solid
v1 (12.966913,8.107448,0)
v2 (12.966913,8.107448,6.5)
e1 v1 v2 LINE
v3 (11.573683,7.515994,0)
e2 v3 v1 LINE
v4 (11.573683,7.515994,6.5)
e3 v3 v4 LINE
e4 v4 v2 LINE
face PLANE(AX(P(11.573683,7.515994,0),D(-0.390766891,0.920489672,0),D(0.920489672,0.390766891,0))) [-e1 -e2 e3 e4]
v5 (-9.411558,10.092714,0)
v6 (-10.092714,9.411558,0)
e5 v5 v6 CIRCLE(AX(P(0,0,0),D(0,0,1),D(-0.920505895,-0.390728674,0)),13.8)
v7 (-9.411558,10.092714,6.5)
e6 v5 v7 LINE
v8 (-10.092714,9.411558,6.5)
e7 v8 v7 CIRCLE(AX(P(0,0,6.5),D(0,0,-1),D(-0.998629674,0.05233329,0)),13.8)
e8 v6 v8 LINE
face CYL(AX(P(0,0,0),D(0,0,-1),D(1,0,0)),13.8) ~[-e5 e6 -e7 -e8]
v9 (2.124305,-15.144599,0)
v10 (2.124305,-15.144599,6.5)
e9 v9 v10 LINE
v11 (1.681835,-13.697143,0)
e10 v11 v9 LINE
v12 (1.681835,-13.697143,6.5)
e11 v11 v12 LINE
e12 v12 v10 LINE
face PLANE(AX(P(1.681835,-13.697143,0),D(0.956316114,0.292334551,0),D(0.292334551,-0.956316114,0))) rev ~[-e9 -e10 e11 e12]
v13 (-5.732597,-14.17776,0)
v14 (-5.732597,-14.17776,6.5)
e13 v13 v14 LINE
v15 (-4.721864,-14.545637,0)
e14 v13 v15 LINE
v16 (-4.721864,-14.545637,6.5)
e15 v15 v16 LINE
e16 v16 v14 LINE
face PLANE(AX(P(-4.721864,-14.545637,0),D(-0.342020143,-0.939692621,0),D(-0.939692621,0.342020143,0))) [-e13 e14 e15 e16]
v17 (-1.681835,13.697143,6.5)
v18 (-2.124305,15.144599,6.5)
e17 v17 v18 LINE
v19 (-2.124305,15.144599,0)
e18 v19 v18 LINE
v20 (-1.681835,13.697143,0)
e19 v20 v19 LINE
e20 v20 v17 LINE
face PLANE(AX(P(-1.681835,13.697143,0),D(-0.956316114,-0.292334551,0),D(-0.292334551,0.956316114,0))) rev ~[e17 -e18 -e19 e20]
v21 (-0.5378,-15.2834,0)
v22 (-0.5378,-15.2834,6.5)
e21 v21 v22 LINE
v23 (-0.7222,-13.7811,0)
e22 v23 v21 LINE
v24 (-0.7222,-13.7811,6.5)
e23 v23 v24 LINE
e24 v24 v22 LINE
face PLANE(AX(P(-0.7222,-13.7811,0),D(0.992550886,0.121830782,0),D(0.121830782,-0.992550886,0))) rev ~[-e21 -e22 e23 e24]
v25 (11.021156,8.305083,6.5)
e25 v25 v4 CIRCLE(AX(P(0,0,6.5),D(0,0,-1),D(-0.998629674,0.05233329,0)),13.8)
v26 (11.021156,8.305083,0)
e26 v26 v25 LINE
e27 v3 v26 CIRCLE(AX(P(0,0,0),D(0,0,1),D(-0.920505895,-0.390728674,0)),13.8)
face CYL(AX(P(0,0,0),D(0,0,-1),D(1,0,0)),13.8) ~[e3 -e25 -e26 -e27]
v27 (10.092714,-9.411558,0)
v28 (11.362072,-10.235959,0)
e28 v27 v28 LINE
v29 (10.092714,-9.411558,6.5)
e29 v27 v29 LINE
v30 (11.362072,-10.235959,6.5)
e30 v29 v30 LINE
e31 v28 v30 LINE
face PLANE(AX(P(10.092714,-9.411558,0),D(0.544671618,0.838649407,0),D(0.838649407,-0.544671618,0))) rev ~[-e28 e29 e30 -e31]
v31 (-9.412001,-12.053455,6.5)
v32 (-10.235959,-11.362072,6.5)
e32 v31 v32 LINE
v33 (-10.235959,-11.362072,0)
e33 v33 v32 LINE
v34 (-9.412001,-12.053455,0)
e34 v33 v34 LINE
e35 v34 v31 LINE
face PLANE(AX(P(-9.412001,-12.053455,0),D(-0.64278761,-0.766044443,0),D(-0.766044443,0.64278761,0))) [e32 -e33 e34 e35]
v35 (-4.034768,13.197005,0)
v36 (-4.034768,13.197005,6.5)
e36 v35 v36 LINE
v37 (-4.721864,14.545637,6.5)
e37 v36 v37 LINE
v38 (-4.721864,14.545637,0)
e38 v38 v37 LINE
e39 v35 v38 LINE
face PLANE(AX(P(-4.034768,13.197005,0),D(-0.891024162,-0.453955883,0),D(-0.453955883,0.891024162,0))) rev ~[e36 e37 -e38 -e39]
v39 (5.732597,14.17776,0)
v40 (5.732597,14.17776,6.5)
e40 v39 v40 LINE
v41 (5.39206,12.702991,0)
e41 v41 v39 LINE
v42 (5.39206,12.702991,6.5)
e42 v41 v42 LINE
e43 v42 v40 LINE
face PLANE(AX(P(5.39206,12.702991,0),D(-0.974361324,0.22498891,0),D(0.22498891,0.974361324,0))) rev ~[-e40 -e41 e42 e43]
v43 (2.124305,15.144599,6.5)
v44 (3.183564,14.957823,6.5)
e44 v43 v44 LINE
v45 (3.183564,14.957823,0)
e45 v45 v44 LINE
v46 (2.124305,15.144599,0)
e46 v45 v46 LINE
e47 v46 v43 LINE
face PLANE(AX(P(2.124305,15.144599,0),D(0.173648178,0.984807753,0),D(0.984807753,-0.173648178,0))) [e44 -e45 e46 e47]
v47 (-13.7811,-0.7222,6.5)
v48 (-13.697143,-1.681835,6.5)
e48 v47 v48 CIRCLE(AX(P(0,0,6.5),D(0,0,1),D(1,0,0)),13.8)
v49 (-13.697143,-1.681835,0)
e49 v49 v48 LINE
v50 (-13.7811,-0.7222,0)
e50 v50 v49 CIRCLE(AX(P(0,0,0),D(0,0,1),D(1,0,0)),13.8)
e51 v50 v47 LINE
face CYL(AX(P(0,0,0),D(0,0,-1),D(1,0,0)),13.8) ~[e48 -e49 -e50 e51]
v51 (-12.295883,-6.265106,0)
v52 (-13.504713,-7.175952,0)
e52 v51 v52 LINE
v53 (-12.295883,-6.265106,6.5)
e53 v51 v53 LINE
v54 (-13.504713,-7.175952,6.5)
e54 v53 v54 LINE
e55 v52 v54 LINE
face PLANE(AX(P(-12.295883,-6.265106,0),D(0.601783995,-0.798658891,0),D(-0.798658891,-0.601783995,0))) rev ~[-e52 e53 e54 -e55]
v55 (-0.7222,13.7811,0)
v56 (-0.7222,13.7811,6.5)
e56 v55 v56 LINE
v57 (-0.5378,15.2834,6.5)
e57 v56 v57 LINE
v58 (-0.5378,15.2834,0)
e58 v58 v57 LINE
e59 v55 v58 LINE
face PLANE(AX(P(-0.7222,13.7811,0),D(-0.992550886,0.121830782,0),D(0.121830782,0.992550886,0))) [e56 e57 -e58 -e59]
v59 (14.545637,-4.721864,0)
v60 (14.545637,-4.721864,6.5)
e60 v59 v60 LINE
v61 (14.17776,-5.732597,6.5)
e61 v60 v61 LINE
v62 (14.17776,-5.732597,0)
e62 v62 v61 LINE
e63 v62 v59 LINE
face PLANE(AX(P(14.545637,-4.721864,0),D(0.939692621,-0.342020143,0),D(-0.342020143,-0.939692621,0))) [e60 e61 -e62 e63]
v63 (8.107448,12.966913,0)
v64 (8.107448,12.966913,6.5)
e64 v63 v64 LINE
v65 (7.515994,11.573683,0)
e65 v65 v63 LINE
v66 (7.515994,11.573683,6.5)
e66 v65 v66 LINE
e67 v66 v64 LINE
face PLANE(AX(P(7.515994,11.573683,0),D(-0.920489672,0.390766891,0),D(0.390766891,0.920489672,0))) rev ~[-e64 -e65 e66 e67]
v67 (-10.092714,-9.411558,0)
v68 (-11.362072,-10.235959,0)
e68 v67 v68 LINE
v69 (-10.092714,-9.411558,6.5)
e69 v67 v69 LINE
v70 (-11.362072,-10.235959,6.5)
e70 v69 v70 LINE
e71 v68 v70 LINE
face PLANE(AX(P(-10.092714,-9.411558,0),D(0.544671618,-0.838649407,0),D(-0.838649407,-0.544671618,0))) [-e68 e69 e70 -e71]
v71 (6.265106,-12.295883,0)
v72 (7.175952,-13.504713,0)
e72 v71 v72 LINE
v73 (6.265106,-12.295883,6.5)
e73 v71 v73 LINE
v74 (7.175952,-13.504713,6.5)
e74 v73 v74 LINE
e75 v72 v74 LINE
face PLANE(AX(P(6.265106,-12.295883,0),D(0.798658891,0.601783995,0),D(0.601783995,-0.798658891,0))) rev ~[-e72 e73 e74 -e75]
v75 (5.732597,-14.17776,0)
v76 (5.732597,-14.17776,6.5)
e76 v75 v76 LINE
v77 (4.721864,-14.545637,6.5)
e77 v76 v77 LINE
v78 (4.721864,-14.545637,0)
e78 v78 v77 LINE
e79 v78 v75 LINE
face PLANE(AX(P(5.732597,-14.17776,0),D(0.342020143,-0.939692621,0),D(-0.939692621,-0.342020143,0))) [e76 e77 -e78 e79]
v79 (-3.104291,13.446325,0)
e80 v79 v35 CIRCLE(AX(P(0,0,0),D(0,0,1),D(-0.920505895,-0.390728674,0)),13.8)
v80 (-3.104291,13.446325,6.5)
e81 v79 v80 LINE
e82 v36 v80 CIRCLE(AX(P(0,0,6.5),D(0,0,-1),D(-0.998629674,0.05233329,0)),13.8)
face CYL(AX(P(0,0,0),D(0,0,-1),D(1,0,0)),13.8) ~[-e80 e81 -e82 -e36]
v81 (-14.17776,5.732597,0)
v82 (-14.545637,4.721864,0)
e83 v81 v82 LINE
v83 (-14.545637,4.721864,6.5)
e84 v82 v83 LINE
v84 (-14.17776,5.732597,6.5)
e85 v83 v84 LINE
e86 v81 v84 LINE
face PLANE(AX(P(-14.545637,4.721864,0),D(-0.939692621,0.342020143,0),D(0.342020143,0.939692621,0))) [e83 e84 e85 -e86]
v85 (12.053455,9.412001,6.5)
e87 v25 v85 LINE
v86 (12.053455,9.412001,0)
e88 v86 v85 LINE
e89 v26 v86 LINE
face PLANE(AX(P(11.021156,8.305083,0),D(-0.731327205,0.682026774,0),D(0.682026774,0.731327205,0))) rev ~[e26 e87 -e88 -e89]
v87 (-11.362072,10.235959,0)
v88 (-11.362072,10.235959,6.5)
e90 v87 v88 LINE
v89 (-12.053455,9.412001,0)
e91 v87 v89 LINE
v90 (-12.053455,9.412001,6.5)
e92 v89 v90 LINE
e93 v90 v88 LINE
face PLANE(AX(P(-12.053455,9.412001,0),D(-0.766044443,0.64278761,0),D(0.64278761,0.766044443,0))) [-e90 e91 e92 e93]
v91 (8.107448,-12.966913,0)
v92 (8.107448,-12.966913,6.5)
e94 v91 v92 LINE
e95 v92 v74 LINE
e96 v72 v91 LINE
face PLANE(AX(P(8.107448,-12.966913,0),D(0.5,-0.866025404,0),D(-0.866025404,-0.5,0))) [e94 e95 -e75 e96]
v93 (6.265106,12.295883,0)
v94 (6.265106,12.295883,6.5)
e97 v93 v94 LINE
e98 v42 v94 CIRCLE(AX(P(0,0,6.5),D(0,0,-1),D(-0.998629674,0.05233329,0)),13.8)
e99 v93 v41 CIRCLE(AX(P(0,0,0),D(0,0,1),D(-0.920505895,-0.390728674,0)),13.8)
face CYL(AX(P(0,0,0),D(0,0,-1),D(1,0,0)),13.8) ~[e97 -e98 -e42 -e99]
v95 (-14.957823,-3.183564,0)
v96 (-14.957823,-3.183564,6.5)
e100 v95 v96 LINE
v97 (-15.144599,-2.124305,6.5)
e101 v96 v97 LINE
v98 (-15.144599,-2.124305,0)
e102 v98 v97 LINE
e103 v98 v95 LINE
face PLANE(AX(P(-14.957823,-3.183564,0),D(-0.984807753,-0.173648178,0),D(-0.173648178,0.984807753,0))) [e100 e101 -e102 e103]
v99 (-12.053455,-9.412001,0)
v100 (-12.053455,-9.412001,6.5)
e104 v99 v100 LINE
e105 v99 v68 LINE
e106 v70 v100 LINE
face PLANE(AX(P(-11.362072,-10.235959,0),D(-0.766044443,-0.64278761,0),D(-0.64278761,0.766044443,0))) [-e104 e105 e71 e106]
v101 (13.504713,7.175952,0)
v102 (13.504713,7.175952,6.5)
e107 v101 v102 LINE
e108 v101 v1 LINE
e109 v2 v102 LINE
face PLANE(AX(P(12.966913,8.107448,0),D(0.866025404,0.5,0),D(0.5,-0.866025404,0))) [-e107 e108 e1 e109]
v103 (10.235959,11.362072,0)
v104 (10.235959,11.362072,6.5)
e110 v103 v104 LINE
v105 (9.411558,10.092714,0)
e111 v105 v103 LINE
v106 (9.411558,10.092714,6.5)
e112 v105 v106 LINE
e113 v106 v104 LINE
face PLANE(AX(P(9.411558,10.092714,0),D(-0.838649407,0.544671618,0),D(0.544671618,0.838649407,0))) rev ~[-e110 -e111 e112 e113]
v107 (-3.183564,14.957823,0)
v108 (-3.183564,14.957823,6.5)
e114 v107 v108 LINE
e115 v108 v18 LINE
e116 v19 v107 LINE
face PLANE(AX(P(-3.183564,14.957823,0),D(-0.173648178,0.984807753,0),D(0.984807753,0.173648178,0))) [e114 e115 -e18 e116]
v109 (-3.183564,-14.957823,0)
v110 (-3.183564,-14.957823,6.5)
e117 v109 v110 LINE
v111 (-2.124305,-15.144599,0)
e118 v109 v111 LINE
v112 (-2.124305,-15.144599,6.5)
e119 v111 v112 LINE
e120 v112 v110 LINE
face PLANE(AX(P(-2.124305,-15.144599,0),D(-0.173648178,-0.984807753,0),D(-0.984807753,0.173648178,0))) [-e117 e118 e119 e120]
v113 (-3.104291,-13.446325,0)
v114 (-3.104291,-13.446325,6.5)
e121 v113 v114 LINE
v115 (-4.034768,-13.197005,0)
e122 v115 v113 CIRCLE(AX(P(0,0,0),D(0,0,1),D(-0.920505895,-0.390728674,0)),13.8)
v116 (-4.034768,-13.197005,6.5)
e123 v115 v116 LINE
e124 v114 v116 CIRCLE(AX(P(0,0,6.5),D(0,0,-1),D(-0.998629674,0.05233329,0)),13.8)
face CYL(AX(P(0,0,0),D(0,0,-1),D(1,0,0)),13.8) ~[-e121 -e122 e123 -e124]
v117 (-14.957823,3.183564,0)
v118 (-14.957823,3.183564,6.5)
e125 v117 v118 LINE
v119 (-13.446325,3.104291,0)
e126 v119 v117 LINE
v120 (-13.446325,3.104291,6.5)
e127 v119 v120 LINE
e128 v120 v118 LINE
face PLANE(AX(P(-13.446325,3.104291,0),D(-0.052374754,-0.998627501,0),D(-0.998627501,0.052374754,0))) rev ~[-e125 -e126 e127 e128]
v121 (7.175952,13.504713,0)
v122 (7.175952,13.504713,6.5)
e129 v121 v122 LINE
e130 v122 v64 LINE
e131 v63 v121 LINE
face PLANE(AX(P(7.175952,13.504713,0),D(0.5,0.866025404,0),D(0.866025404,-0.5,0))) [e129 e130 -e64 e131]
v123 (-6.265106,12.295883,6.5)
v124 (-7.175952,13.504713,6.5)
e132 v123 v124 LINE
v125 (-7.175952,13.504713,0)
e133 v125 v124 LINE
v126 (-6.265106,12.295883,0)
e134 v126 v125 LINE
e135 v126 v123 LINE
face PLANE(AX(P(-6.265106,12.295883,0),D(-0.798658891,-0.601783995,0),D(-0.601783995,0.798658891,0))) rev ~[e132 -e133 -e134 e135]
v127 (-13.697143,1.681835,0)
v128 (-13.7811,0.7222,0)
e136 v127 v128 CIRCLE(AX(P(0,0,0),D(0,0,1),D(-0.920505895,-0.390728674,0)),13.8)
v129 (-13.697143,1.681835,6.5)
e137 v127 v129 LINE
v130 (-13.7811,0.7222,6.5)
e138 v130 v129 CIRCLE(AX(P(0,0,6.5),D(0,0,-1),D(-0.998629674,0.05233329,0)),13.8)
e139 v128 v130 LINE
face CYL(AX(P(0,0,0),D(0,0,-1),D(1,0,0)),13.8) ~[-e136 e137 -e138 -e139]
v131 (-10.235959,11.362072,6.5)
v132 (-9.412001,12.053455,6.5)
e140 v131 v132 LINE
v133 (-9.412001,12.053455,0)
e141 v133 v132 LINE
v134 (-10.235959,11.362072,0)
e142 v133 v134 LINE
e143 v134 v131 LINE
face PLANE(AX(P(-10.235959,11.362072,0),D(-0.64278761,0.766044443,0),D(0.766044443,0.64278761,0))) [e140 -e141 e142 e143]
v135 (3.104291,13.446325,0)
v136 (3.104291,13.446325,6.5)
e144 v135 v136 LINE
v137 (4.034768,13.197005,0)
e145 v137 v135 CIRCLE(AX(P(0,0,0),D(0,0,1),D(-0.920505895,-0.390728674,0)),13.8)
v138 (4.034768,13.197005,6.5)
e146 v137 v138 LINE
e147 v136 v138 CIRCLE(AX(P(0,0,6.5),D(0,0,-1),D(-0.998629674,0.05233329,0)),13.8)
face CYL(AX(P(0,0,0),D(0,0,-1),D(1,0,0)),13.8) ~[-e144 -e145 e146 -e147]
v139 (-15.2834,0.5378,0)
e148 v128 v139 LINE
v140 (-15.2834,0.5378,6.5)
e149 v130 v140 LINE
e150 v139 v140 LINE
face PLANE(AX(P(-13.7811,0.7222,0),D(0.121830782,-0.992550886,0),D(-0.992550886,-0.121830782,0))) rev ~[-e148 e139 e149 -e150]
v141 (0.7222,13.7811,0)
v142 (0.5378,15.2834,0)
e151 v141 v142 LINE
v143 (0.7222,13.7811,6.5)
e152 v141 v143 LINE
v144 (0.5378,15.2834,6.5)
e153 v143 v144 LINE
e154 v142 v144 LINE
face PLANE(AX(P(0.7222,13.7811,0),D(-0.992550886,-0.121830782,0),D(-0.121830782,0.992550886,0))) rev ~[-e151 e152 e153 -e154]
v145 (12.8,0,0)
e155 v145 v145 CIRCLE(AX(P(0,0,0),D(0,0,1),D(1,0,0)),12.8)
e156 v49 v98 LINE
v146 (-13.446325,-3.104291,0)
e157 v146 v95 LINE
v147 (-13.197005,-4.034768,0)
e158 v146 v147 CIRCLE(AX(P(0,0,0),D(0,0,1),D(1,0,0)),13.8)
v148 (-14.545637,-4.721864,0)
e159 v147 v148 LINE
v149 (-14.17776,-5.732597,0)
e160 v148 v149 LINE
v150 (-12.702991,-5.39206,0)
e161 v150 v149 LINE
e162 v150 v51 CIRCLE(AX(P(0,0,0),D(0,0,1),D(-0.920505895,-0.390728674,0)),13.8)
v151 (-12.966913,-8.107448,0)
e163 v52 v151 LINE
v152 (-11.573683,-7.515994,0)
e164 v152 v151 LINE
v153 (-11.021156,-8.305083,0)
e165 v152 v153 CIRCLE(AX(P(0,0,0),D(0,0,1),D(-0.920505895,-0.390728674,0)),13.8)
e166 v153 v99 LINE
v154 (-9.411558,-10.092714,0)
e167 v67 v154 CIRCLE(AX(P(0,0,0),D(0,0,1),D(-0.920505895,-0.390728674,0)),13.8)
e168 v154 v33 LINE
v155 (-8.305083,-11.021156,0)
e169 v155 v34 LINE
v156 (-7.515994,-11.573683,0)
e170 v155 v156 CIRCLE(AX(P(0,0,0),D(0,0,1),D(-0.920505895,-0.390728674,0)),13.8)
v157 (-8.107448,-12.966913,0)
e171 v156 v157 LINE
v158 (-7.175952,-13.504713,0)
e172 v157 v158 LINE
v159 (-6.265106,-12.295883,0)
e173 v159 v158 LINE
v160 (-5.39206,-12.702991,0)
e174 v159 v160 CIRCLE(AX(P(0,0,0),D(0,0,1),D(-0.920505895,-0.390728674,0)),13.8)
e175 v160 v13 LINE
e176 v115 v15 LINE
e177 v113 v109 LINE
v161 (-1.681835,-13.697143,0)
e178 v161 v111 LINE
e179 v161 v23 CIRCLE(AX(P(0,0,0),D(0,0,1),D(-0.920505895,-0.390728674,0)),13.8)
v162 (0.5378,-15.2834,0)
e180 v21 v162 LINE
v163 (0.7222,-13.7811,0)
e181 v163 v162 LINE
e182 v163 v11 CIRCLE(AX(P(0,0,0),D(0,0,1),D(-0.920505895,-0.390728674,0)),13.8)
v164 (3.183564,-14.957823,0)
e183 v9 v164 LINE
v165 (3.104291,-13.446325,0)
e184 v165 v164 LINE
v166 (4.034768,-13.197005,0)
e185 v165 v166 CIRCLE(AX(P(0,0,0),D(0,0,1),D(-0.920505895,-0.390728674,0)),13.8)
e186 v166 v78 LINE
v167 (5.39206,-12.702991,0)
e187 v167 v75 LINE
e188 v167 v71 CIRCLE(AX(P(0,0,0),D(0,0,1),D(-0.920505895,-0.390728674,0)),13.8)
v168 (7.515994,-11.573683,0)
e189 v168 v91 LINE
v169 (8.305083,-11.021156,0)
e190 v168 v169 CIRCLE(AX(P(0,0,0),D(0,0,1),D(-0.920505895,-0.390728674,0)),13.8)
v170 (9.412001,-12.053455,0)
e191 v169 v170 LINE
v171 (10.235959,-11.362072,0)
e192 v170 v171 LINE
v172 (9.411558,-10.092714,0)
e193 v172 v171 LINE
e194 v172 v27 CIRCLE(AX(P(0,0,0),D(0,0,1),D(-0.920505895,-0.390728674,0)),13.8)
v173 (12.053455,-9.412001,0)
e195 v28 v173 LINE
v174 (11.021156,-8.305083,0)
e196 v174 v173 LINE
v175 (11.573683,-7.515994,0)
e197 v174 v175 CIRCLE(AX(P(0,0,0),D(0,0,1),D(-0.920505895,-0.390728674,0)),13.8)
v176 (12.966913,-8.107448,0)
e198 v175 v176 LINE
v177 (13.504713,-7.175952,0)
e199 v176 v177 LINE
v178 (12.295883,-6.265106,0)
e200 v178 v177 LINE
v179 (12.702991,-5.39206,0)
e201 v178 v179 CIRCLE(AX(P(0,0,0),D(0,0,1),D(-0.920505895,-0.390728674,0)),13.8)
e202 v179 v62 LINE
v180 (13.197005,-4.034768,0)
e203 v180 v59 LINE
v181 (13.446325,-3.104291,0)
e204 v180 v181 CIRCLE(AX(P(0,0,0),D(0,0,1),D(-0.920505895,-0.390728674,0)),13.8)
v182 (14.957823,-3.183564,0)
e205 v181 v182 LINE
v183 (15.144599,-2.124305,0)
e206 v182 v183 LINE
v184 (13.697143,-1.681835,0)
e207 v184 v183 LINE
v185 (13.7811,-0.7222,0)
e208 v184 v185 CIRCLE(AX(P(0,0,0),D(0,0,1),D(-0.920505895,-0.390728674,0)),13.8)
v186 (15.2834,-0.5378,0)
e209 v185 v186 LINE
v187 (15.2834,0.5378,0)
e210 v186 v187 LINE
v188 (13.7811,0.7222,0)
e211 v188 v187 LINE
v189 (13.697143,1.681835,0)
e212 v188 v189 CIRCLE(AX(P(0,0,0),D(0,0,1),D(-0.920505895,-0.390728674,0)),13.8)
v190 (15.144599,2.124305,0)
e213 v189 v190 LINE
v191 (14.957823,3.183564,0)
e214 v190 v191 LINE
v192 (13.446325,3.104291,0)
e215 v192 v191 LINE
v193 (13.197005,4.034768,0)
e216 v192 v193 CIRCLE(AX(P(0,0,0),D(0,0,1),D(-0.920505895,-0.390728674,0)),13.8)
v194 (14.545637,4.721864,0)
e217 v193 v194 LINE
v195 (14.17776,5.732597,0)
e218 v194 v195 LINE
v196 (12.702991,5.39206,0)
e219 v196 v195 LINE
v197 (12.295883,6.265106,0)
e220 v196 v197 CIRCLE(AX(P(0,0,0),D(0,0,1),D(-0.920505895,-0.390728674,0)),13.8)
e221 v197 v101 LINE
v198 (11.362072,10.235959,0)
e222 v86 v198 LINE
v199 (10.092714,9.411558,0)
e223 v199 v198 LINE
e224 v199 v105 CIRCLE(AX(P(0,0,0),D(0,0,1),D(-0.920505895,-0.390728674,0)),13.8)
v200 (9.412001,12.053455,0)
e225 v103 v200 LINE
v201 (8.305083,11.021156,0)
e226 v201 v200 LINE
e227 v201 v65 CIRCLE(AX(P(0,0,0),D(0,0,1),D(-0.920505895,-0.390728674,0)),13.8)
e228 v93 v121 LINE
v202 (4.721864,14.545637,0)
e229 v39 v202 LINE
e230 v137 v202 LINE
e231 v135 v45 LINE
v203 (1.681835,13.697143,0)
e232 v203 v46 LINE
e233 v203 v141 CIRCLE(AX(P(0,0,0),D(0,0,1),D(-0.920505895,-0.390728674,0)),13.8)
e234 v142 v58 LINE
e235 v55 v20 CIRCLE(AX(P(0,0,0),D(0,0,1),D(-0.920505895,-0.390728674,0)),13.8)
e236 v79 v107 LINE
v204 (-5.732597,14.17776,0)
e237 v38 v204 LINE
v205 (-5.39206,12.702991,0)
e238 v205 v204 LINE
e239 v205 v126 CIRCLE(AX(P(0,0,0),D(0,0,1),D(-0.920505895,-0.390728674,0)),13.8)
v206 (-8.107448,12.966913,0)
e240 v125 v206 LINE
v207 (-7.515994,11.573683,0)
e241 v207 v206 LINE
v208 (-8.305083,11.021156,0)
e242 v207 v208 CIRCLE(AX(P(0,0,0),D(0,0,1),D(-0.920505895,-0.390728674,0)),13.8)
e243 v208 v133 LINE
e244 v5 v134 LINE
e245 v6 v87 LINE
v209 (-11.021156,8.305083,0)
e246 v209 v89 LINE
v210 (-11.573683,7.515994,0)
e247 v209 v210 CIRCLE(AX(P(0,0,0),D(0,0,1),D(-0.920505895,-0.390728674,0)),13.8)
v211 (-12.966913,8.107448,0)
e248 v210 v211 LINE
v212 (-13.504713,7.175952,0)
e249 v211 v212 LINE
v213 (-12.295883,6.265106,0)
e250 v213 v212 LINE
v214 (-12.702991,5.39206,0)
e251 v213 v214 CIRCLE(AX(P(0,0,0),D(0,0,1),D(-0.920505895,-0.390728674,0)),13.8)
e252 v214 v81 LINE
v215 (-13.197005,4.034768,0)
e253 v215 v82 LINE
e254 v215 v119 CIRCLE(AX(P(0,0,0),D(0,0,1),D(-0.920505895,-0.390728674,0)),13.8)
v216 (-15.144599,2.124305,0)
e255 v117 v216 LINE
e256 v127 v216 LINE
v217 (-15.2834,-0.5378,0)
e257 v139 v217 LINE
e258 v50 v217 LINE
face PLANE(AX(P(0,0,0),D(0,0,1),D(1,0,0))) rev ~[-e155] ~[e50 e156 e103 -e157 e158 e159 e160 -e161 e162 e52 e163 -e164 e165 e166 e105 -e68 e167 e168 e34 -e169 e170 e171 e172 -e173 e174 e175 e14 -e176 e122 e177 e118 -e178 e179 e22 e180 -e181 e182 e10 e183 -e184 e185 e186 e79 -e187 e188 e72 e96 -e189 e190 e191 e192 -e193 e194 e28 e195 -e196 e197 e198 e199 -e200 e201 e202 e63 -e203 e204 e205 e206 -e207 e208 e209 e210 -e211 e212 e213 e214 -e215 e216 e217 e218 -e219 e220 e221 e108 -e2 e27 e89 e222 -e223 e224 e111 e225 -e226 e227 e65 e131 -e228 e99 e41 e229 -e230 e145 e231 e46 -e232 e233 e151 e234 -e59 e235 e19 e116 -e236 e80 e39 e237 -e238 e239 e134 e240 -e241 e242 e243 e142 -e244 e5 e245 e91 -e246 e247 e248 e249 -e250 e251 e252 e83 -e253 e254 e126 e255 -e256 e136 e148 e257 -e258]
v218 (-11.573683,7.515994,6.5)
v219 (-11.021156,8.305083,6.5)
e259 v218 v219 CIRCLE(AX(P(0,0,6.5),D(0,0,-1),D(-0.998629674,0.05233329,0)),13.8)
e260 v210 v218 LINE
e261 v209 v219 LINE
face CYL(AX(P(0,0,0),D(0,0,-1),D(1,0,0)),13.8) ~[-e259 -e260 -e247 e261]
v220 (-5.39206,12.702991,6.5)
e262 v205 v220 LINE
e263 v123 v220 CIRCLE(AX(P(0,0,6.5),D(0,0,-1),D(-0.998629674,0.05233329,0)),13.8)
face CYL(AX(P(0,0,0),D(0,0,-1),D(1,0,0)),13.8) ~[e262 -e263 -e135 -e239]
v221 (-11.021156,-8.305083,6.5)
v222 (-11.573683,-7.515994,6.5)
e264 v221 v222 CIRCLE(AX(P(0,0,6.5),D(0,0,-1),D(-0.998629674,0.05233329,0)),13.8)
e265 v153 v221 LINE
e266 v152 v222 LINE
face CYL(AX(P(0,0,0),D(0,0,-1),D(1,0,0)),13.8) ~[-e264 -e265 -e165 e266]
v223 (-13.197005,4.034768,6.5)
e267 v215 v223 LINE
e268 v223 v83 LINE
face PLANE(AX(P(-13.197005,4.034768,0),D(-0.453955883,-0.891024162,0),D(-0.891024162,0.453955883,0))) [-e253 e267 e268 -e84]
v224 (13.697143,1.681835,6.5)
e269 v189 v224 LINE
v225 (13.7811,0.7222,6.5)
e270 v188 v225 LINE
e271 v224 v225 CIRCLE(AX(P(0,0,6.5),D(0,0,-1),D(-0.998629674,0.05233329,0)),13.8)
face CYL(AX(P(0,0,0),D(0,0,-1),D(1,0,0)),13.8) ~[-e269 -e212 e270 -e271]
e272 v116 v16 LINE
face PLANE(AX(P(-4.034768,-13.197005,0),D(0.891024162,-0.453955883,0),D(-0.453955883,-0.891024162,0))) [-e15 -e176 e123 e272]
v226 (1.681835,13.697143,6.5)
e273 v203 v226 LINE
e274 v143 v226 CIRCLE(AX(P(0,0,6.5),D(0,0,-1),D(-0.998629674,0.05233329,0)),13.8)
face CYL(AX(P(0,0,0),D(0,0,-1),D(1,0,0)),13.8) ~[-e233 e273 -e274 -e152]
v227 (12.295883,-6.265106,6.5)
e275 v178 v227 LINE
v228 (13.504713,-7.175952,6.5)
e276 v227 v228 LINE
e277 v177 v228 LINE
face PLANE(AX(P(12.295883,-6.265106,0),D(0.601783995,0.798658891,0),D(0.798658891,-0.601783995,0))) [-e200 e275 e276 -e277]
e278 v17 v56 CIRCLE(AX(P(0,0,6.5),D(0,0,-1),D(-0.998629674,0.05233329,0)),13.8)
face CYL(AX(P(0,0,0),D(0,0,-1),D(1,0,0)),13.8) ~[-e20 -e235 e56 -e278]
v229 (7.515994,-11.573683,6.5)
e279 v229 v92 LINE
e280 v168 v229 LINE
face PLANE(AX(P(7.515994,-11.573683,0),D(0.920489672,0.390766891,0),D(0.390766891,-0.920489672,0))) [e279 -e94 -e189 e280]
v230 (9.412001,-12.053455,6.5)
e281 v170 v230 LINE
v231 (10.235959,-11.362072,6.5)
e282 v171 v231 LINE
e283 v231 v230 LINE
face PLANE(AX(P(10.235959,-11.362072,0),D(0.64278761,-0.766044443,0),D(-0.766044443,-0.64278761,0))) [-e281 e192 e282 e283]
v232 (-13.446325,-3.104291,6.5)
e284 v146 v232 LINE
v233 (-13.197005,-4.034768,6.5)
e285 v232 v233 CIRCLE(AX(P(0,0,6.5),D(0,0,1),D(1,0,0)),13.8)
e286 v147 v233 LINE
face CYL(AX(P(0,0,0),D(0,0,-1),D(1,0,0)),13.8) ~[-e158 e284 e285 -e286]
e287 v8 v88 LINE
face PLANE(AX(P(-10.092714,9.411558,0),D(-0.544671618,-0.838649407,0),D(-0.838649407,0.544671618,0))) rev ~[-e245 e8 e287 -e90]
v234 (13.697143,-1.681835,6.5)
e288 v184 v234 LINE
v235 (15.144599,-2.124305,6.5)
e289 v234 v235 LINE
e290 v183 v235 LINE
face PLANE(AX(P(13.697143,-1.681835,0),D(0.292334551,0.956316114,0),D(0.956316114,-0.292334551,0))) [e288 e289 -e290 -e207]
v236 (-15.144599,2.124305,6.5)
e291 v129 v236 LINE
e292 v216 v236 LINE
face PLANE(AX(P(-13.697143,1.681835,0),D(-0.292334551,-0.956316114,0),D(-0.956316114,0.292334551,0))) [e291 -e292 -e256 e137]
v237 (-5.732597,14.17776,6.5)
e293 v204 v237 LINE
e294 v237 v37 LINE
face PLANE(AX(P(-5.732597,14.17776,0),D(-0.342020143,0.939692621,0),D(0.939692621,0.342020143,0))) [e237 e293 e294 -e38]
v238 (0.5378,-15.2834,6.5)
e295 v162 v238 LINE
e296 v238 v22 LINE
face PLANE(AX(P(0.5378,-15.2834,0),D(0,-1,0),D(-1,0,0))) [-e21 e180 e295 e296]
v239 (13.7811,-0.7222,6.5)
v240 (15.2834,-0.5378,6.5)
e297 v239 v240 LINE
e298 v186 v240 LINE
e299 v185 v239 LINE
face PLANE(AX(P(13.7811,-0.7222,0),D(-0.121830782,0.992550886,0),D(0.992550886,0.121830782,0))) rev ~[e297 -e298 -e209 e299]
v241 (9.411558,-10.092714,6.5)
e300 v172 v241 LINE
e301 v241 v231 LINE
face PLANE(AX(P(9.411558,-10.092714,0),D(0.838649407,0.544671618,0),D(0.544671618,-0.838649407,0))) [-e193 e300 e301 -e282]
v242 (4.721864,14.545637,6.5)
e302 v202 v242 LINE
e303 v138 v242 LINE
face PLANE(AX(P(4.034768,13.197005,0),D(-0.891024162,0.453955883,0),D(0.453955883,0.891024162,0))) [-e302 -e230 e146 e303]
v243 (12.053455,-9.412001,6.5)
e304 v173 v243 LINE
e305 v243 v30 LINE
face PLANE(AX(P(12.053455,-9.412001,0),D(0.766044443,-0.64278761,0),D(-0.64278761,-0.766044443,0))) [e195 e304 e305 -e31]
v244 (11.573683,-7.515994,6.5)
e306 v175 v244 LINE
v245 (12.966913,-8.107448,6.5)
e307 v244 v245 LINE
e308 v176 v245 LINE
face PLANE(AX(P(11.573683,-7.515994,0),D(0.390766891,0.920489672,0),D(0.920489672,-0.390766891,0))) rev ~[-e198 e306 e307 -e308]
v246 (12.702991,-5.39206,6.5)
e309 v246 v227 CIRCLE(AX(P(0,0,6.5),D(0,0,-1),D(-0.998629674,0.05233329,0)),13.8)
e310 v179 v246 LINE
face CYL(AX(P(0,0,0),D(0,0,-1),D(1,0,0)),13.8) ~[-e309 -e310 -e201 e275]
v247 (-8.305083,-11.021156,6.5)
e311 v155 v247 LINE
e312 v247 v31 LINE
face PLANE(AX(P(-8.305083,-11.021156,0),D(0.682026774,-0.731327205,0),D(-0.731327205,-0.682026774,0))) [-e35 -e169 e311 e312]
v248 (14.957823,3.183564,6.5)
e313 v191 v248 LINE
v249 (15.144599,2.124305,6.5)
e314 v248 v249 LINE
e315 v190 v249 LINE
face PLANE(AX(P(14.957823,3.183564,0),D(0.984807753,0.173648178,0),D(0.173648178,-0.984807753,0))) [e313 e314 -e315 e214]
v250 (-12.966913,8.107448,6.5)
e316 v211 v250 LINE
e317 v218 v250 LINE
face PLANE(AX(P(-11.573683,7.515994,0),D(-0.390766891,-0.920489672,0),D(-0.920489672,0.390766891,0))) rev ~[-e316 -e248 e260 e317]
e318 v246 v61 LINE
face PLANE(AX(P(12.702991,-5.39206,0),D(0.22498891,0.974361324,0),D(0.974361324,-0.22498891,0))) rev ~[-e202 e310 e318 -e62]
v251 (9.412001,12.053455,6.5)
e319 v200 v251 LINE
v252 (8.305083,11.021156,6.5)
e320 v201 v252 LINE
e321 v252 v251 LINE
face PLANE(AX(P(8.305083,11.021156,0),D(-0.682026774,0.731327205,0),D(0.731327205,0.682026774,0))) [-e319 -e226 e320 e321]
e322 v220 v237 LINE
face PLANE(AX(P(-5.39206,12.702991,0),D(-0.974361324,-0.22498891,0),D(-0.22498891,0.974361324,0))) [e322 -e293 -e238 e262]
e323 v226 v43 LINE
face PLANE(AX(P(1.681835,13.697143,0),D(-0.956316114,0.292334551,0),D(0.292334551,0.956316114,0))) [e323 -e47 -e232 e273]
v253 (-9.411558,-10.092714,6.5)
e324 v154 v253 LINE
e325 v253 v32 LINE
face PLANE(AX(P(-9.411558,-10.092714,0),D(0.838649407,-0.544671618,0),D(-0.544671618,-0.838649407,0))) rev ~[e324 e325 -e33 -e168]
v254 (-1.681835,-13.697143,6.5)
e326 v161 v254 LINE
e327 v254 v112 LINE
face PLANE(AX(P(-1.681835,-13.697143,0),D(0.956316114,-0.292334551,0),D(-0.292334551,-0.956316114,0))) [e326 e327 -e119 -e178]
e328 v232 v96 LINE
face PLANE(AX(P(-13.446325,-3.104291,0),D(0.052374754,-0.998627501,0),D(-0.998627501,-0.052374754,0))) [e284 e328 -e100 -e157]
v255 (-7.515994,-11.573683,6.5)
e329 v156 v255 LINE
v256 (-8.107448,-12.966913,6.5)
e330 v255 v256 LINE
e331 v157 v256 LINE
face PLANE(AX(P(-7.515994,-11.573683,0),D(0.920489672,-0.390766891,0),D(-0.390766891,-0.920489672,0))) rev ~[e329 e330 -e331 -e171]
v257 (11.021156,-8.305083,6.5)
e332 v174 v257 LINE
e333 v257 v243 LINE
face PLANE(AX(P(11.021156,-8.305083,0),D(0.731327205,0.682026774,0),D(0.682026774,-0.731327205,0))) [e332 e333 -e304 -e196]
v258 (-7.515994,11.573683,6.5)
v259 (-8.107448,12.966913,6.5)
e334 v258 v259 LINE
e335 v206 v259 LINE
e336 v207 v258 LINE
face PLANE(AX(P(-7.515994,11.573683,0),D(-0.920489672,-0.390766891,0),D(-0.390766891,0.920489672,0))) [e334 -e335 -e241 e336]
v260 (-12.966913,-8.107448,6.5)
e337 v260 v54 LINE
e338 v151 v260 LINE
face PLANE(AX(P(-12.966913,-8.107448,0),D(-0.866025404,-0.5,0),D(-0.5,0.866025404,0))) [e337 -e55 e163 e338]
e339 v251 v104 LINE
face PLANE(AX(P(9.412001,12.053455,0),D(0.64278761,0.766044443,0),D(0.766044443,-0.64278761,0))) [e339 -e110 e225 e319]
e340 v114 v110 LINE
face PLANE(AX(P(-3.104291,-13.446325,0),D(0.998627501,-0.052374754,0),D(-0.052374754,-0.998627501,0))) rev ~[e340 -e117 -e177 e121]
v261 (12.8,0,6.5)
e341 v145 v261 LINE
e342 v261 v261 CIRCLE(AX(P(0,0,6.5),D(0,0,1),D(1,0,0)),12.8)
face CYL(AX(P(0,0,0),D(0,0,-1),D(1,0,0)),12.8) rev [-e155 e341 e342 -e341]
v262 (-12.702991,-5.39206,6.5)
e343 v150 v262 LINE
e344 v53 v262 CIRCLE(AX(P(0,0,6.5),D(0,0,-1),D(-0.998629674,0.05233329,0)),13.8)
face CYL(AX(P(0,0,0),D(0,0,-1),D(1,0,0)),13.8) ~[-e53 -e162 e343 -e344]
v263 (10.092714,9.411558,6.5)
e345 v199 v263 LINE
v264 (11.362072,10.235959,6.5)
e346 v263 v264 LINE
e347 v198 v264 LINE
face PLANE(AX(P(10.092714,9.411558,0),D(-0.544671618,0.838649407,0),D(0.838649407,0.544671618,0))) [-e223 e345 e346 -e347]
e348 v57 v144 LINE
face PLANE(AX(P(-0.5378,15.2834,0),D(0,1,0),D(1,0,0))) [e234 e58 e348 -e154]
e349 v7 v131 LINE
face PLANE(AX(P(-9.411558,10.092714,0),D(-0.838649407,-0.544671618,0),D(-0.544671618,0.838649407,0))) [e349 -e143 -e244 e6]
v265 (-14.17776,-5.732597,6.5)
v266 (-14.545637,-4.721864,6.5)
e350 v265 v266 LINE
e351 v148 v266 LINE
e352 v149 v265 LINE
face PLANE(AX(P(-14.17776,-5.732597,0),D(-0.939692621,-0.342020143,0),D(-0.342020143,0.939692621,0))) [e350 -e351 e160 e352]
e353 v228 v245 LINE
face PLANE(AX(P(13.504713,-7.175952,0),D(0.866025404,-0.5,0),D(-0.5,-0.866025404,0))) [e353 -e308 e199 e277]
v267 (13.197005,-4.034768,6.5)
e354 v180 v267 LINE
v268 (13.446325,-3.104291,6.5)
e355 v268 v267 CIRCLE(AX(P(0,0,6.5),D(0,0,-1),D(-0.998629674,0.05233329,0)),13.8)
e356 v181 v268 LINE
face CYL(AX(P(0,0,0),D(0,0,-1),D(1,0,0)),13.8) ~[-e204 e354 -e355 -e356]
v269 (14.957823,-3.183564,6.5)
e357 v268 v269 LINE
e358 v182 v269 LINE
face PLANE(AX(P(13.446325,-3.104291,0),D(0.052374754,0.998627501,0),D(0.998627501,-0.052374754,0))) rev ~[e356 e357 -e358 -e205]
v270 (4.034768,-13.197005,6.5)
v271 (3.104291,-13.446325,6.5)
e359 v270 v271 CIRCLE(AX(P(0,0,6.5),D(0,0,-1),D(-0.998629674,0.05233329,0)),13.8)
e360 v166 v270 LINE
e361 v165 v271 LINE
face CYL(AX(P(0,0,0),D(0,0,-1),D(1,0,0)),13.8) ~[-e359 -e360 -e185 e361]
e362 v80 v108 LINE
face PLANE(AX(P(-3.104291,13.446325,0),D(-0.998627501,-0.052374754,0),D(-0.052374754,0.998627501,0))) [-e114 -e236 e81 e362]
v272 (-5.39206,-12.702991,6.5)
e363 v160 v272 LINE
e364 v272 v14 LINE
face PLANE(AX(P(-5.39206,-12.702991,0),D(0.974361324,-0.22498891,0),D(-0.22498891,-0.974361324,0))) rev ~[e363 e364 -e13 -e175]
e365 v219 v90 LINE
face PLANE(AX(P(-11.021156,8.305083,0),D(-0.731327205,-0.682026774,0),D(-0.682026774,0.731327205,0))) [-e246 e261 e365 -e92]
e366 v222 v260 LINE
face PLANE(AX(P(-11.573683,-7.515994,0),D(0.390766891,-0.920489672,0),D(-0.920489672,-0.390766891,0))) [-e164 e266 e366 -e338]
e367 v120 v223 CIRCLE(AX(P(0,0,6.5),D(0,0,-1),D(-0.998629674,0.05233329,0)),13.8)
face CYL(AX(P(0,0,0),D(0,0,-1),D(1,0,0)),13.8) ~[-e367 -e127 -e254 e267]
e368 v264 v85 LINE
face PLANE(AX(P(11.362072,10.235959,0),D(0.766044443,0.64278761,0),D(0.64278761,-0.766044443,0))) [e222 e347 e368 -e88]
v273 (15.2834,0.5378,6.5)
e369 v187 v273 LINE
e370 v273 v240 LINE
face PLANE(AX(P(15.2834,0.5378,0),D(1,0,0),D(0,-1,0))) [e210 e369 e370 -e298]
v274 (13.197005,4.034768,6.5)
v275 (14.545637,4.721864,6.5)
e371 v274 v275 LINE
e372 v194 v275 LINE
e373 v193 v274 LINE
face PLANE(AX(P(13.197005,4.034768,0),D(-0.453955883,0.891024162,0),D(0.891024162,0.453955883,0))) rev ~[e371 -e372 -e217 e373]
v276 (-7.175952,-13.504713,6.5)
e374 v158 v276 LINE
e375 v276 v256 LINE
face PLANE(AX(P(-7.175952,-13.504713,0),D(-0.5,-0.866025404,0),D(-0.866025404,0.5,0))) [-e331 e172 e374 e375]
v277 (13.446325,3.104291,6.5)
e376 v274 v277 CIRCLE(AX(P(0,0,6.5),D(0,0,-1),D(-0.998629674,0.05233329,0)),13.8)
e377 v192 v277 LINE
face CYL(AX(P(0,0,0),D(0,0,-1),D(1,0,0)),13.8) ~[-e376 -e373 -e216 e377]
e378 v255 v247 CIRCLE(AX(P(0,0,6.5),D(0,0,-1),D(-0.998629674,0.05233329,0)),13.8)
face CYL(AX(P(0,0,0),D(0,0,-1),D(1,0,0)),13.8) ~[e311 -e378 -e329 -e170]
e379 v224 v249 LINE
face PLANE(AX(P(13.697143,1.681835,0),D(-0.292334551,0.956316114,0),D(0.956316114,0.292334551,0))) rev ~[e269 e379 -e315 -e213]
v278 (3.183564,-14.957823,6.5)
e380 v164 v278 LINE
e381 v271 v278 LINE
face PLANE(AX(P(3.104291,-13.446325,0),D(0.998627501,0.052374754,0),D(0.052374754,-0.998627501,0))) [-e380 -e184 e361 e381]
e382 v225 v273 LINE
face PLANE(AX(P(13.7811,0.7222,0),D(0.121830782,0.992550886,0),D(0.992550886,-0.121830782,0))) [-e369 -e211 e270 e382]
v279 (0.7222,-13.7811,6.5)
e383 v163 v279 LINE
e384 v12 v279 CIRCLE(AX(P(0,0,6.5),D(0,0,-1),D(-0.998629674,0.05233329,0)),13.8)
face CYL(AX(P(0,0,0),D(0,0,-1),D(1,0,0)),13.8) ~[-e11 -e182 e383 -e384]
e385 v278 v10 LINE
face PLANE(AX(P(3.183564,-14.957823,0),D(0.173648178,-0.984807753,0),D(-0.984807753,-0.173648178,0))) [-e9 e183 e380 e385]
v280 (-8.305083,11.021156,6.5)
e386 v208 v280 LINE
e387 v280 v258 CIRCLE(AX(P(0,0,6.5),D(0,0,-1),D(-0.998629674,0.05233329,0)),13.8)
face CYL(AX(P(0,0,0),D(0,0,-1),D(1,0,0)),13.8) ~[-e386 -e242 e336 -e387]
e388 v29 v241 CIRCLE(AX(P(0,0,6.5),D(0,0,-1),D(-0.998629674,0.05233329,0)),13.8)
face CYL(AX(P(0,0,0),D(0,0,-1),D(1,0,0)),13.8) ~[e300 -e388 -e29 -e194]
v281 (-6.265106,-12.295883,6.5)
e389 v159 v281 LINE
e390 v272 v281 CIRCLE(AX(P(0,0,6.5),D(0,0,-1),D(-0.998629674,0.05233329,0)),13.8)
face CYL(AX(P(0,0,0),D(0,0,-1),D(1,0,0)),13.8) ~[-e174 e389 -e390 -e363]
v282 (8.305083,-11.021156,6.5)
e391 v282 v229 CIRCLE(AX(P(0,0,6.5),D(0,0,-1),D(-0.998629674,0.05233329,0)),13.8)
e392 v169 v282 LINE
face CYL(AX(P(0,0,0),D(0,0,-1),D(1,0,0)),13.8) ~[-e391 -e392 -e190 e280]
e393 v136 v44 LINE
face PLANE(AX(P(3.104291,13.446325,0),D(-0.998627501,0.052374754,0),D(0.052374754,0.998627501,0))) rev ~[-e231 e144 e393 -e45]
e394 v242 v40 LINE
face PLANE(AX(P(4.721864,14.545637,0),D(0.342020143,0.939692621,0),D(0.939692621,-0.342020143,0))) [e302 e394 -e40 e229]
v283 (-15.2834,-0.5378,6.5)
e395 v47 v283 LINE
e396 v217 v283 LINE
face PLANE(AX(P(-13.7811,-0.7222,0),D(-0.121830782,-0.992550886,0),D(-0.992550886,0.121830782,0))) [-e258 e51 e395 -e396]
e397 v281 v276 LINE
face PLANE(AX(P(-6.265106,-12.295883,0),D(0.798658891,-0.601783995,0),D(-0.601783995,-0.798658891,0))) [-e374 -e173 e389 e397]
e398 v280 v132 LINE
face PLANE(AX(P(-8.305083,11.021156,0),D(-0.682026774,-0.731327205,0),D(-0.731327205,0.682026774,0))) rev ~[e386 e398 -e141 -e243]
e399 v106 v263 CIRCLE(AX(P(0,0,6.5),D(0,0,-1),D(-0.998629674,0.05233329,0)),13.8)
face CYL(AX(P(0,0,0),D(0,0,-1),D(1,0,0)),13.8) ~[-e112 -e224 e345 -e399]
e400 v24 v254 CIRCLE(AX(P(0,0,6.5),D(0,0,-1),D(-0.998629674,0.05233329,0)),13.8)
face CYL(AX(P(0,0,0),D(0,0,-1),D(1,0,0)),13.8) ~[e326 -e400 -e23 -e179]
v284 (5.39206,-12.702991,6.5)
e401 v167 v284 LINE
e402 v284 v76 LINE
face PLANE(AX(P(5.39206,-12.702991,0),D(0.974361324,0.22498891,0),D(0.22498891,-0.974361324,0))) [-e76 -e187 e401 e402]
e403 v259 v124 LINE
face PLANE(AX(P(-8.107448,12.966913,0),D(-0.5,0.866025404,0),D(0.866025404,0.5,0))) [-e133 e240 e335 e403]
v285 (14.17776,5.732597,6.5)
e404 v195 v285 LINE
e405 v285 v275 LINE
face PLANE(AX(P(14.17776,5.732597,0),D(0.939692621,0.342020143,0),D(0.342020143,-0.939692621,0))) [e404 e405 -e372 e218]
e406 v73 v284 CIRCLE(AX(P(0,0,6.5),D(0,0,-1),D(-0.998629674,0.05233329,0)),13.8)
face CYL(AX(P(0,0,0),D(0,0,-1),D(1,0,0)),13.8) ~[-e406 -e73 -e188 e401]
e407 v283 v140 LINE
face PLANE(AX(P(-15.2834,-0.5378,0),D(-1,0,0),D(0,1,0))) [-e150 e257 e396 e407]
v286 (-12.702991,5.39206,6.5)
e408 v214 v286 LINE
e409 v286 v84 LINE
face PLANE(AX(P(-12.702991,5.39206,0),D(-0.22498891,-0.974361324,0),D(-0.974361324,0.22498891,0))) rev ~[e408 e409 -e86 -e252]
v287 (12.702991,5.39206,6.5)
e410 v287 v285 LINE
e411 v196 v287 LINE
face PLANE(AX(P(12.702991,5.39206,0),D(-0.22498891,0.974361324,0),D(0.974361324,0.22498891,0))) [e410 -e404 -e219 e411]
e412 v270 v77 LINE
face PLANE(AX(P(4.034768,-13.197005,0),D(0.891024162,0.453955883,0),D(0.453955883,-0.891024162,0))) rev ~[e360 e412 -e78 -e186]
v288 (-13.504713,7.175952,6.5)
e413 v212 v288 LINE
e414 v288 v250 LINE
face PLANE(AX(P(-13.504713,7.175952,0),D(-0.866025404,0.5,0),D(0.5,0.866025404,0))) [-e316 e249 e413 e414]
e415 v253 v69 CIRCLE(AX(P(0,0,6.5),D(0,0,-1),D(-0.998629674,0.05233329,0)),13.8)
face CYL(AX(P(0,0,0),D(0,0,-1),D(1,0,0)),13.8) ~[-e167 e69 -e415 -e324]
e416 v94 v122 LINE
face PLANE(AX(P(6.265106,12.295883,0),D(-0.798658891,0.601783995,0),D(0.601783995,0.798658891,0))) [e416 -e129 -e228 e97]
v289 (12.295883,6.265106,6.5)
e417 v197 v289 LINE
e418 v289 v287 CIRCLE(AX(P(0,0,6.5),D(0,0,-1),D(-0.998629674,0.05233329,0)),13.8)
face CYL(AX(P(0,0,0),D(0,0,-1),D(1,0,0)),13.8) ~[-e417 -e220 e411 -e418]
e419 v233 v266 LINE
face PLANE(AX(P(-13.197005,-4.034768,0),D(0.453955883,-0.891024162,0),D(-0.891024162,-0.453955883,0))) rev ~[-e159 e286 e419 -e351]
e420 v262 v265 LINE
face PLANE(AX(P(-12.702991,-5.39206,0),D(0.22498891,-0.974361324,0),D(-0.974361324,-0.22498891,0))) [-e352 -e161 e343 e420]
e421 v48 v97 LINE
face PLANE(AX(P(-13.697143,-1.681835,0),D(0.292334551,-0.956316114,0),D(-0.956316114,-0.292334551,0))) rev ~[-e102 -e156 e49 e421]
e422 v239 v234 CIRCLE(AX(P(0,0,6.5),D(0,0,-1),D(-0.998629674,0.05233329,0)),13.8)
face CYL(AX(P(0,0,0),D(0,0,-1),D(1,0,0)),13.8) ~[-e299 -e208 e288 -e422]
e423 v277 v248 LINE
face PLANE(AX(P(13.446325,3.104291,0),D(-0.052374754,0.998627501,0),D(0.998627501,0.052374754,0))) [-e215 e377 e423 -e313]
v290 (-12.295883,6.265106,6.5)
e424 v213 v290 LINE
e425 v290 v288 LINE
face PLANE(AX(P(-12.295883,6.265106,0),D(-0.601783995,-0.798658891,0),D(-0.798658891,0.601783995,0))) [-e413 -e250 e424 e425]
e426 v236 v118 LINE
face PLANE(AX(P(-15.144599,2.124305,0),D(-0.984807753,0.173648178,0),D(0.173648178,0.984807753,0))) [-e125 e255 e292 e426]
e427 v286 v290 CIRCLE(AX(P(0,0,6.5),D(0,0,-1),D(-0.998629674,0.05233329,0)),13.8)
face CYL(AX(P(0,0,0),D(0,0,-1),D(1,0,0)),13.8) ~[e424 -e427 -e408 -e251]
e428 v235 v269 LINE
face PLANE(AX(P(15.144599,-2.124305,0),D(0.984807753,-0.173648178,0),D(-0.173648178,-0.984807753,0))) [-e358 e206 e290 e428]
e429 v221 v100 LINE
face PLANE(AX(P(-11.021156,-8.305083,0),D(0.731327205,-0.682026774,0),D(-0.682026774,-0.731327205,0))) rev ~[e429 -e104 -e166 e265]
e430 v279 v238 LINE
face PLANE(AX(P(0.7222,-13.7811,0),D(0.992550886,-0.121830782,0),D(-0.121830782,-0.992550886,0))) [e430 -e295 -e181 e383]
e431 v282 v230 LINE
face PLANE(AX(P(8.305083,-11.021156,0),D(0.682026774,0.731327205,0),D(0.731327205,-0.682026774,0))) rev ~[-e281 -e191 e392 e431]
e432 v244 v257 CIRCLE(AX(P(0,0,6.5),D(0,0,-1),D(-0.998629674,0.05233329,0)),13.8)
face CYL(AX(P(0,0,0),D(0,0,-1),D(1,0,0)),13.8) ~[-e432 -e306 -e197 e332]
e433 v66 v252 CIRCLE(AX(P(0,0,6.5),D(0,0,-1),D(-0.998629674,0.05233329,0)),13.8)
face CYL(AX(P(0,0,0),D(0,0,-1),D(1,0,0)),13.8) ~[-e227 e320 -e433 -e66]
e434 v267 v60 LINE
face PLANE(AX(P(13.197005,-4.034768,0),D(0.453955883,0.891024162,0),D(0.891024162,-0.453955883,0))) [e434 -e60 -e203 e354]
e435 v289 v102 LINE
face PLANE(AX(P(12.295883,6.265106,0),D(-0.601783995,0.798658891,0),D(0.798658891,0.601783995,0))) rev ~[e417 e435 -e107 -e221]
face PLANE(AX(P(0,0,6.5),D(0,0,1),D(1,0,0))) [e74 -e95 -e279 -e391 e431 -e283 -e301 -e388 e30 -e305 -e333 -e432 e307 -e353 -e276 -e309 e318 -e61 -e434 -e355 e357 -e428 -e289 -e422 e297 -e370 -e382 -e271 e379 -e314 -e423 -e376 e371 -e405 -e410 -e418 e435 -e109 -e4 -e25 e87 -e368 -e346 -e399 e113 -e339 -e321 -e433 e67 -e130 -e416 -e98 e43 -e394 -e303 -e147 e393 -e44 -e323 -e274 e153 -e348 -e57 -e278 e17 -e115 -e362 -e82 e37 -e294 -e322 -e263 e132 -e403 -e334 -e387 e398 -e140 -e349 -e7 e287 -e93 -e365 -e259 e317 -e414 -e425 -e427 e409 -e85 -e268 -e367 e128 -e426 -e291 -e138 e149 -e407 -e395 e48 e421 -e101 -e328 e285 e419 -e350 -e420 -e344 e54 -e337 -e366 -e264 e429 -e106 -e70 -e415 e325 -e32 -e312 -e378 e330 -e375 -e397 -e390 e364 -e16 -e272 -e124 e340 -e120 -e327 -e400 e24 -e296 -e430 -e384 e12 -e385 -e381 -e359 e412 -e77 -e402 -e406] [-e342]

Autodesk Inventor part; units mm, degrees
ref_plane "YZ Plane" through (0, 0, 0) normal (1, 0, 0) x (0, 1, 0)
ref_plane "XZ Plane" through (0, 0, 0) normal (0, 1, 0) x (-1, 0, 0)
sketch "Sketch6" plane through (0, 0, 0) normal (0, 0, 1) x (1, 0, 0)
  circle A0 centre (0, 0) radius 12.5 projected
  circle A1 centre (0, 0) radius 12.8
  circle A2 centre (0, 0) radius 13.8
  dimension "d32" = 0.3
  dimension "d33" = 1
ref_plane "Work Plane1" through (-12.5, -12.5, 6.5) normal (0, 0, 1) x (1, 0, 0)
extrude "Extrusion4" add sketch "Sketch6" along normal up to surface (6.5 mm away) contours A2
sketch "Sketch7" plane through (0, 0, 0) normal (0, 0, -1) x (-1, 0, 0)
  line L0 (13.8, 0) -> (0, 0)
  line L1 (0, 0) -> (0, 0)
  line L2 (0, 0) -> (13.7811, -0.7222)
  line L3 (0, 0) -> (0, 0) construction
  line L4 (0, 0) -> (0, 0) construction
  line L5 (0, 0) -> (0, 0) construction
  line L6 (13.7811, -0.7222) -> (15.279, -0.8007) construction
  line L7 (15.2834, -0.7222) -> (15.2834, 0)
  line L8 (15.2834, 0) -> (13.8, 0)
  line L9 (13.7811, -0.7222) -> (15.2834, -0.7222)
  circle A0 centre (0, 0) radius 13.8 construction
  line L10 (13.7811, 0.7222) -> (15.279, 0.8007) construction
  line L11 (15.2834, 0.7222) -> (15.2834, 0)
  line L12 (13.7811, 0.7222) -> (15.2834, 0.7222)
  line L13 (13.7811, -0.7222) -> (15.2834, -0.5378)
  line L14 (13.7811, -0.7222) -> (15.2947, -0.7222) construction
  line L15 (13.7811, 0.7222) -> (15.2834, 0.5378)
  line L16 (13.7811, 0.7222) -> (15.2947, 0.7222) construction
  line L17 (15.2834, 0.5378) -> (15.2834, -0.5378)
  line L18 (13.7811, -0.7222) -> (13.7811, 0.7222)
  dimension "d37" = 0
  dimension "d38" = 1.5
  dimension "d44" = 3
  dimension "d45" = 7
  dimension "d46" = 7
extrude "Extrusion5" add sketch "Sketch7" against normal up to surface (6.5 mm away) contours L8 L7 L13 L18 L0 | L0 L18 L15 L11 L8
pattern_circular "Circular Pattern2" count 36 over 360 about axis through (0, 0, 0) along (0, 0, 1) of "Extrusion5"
properties part number "200_Holder_Lambdaplate_1"
